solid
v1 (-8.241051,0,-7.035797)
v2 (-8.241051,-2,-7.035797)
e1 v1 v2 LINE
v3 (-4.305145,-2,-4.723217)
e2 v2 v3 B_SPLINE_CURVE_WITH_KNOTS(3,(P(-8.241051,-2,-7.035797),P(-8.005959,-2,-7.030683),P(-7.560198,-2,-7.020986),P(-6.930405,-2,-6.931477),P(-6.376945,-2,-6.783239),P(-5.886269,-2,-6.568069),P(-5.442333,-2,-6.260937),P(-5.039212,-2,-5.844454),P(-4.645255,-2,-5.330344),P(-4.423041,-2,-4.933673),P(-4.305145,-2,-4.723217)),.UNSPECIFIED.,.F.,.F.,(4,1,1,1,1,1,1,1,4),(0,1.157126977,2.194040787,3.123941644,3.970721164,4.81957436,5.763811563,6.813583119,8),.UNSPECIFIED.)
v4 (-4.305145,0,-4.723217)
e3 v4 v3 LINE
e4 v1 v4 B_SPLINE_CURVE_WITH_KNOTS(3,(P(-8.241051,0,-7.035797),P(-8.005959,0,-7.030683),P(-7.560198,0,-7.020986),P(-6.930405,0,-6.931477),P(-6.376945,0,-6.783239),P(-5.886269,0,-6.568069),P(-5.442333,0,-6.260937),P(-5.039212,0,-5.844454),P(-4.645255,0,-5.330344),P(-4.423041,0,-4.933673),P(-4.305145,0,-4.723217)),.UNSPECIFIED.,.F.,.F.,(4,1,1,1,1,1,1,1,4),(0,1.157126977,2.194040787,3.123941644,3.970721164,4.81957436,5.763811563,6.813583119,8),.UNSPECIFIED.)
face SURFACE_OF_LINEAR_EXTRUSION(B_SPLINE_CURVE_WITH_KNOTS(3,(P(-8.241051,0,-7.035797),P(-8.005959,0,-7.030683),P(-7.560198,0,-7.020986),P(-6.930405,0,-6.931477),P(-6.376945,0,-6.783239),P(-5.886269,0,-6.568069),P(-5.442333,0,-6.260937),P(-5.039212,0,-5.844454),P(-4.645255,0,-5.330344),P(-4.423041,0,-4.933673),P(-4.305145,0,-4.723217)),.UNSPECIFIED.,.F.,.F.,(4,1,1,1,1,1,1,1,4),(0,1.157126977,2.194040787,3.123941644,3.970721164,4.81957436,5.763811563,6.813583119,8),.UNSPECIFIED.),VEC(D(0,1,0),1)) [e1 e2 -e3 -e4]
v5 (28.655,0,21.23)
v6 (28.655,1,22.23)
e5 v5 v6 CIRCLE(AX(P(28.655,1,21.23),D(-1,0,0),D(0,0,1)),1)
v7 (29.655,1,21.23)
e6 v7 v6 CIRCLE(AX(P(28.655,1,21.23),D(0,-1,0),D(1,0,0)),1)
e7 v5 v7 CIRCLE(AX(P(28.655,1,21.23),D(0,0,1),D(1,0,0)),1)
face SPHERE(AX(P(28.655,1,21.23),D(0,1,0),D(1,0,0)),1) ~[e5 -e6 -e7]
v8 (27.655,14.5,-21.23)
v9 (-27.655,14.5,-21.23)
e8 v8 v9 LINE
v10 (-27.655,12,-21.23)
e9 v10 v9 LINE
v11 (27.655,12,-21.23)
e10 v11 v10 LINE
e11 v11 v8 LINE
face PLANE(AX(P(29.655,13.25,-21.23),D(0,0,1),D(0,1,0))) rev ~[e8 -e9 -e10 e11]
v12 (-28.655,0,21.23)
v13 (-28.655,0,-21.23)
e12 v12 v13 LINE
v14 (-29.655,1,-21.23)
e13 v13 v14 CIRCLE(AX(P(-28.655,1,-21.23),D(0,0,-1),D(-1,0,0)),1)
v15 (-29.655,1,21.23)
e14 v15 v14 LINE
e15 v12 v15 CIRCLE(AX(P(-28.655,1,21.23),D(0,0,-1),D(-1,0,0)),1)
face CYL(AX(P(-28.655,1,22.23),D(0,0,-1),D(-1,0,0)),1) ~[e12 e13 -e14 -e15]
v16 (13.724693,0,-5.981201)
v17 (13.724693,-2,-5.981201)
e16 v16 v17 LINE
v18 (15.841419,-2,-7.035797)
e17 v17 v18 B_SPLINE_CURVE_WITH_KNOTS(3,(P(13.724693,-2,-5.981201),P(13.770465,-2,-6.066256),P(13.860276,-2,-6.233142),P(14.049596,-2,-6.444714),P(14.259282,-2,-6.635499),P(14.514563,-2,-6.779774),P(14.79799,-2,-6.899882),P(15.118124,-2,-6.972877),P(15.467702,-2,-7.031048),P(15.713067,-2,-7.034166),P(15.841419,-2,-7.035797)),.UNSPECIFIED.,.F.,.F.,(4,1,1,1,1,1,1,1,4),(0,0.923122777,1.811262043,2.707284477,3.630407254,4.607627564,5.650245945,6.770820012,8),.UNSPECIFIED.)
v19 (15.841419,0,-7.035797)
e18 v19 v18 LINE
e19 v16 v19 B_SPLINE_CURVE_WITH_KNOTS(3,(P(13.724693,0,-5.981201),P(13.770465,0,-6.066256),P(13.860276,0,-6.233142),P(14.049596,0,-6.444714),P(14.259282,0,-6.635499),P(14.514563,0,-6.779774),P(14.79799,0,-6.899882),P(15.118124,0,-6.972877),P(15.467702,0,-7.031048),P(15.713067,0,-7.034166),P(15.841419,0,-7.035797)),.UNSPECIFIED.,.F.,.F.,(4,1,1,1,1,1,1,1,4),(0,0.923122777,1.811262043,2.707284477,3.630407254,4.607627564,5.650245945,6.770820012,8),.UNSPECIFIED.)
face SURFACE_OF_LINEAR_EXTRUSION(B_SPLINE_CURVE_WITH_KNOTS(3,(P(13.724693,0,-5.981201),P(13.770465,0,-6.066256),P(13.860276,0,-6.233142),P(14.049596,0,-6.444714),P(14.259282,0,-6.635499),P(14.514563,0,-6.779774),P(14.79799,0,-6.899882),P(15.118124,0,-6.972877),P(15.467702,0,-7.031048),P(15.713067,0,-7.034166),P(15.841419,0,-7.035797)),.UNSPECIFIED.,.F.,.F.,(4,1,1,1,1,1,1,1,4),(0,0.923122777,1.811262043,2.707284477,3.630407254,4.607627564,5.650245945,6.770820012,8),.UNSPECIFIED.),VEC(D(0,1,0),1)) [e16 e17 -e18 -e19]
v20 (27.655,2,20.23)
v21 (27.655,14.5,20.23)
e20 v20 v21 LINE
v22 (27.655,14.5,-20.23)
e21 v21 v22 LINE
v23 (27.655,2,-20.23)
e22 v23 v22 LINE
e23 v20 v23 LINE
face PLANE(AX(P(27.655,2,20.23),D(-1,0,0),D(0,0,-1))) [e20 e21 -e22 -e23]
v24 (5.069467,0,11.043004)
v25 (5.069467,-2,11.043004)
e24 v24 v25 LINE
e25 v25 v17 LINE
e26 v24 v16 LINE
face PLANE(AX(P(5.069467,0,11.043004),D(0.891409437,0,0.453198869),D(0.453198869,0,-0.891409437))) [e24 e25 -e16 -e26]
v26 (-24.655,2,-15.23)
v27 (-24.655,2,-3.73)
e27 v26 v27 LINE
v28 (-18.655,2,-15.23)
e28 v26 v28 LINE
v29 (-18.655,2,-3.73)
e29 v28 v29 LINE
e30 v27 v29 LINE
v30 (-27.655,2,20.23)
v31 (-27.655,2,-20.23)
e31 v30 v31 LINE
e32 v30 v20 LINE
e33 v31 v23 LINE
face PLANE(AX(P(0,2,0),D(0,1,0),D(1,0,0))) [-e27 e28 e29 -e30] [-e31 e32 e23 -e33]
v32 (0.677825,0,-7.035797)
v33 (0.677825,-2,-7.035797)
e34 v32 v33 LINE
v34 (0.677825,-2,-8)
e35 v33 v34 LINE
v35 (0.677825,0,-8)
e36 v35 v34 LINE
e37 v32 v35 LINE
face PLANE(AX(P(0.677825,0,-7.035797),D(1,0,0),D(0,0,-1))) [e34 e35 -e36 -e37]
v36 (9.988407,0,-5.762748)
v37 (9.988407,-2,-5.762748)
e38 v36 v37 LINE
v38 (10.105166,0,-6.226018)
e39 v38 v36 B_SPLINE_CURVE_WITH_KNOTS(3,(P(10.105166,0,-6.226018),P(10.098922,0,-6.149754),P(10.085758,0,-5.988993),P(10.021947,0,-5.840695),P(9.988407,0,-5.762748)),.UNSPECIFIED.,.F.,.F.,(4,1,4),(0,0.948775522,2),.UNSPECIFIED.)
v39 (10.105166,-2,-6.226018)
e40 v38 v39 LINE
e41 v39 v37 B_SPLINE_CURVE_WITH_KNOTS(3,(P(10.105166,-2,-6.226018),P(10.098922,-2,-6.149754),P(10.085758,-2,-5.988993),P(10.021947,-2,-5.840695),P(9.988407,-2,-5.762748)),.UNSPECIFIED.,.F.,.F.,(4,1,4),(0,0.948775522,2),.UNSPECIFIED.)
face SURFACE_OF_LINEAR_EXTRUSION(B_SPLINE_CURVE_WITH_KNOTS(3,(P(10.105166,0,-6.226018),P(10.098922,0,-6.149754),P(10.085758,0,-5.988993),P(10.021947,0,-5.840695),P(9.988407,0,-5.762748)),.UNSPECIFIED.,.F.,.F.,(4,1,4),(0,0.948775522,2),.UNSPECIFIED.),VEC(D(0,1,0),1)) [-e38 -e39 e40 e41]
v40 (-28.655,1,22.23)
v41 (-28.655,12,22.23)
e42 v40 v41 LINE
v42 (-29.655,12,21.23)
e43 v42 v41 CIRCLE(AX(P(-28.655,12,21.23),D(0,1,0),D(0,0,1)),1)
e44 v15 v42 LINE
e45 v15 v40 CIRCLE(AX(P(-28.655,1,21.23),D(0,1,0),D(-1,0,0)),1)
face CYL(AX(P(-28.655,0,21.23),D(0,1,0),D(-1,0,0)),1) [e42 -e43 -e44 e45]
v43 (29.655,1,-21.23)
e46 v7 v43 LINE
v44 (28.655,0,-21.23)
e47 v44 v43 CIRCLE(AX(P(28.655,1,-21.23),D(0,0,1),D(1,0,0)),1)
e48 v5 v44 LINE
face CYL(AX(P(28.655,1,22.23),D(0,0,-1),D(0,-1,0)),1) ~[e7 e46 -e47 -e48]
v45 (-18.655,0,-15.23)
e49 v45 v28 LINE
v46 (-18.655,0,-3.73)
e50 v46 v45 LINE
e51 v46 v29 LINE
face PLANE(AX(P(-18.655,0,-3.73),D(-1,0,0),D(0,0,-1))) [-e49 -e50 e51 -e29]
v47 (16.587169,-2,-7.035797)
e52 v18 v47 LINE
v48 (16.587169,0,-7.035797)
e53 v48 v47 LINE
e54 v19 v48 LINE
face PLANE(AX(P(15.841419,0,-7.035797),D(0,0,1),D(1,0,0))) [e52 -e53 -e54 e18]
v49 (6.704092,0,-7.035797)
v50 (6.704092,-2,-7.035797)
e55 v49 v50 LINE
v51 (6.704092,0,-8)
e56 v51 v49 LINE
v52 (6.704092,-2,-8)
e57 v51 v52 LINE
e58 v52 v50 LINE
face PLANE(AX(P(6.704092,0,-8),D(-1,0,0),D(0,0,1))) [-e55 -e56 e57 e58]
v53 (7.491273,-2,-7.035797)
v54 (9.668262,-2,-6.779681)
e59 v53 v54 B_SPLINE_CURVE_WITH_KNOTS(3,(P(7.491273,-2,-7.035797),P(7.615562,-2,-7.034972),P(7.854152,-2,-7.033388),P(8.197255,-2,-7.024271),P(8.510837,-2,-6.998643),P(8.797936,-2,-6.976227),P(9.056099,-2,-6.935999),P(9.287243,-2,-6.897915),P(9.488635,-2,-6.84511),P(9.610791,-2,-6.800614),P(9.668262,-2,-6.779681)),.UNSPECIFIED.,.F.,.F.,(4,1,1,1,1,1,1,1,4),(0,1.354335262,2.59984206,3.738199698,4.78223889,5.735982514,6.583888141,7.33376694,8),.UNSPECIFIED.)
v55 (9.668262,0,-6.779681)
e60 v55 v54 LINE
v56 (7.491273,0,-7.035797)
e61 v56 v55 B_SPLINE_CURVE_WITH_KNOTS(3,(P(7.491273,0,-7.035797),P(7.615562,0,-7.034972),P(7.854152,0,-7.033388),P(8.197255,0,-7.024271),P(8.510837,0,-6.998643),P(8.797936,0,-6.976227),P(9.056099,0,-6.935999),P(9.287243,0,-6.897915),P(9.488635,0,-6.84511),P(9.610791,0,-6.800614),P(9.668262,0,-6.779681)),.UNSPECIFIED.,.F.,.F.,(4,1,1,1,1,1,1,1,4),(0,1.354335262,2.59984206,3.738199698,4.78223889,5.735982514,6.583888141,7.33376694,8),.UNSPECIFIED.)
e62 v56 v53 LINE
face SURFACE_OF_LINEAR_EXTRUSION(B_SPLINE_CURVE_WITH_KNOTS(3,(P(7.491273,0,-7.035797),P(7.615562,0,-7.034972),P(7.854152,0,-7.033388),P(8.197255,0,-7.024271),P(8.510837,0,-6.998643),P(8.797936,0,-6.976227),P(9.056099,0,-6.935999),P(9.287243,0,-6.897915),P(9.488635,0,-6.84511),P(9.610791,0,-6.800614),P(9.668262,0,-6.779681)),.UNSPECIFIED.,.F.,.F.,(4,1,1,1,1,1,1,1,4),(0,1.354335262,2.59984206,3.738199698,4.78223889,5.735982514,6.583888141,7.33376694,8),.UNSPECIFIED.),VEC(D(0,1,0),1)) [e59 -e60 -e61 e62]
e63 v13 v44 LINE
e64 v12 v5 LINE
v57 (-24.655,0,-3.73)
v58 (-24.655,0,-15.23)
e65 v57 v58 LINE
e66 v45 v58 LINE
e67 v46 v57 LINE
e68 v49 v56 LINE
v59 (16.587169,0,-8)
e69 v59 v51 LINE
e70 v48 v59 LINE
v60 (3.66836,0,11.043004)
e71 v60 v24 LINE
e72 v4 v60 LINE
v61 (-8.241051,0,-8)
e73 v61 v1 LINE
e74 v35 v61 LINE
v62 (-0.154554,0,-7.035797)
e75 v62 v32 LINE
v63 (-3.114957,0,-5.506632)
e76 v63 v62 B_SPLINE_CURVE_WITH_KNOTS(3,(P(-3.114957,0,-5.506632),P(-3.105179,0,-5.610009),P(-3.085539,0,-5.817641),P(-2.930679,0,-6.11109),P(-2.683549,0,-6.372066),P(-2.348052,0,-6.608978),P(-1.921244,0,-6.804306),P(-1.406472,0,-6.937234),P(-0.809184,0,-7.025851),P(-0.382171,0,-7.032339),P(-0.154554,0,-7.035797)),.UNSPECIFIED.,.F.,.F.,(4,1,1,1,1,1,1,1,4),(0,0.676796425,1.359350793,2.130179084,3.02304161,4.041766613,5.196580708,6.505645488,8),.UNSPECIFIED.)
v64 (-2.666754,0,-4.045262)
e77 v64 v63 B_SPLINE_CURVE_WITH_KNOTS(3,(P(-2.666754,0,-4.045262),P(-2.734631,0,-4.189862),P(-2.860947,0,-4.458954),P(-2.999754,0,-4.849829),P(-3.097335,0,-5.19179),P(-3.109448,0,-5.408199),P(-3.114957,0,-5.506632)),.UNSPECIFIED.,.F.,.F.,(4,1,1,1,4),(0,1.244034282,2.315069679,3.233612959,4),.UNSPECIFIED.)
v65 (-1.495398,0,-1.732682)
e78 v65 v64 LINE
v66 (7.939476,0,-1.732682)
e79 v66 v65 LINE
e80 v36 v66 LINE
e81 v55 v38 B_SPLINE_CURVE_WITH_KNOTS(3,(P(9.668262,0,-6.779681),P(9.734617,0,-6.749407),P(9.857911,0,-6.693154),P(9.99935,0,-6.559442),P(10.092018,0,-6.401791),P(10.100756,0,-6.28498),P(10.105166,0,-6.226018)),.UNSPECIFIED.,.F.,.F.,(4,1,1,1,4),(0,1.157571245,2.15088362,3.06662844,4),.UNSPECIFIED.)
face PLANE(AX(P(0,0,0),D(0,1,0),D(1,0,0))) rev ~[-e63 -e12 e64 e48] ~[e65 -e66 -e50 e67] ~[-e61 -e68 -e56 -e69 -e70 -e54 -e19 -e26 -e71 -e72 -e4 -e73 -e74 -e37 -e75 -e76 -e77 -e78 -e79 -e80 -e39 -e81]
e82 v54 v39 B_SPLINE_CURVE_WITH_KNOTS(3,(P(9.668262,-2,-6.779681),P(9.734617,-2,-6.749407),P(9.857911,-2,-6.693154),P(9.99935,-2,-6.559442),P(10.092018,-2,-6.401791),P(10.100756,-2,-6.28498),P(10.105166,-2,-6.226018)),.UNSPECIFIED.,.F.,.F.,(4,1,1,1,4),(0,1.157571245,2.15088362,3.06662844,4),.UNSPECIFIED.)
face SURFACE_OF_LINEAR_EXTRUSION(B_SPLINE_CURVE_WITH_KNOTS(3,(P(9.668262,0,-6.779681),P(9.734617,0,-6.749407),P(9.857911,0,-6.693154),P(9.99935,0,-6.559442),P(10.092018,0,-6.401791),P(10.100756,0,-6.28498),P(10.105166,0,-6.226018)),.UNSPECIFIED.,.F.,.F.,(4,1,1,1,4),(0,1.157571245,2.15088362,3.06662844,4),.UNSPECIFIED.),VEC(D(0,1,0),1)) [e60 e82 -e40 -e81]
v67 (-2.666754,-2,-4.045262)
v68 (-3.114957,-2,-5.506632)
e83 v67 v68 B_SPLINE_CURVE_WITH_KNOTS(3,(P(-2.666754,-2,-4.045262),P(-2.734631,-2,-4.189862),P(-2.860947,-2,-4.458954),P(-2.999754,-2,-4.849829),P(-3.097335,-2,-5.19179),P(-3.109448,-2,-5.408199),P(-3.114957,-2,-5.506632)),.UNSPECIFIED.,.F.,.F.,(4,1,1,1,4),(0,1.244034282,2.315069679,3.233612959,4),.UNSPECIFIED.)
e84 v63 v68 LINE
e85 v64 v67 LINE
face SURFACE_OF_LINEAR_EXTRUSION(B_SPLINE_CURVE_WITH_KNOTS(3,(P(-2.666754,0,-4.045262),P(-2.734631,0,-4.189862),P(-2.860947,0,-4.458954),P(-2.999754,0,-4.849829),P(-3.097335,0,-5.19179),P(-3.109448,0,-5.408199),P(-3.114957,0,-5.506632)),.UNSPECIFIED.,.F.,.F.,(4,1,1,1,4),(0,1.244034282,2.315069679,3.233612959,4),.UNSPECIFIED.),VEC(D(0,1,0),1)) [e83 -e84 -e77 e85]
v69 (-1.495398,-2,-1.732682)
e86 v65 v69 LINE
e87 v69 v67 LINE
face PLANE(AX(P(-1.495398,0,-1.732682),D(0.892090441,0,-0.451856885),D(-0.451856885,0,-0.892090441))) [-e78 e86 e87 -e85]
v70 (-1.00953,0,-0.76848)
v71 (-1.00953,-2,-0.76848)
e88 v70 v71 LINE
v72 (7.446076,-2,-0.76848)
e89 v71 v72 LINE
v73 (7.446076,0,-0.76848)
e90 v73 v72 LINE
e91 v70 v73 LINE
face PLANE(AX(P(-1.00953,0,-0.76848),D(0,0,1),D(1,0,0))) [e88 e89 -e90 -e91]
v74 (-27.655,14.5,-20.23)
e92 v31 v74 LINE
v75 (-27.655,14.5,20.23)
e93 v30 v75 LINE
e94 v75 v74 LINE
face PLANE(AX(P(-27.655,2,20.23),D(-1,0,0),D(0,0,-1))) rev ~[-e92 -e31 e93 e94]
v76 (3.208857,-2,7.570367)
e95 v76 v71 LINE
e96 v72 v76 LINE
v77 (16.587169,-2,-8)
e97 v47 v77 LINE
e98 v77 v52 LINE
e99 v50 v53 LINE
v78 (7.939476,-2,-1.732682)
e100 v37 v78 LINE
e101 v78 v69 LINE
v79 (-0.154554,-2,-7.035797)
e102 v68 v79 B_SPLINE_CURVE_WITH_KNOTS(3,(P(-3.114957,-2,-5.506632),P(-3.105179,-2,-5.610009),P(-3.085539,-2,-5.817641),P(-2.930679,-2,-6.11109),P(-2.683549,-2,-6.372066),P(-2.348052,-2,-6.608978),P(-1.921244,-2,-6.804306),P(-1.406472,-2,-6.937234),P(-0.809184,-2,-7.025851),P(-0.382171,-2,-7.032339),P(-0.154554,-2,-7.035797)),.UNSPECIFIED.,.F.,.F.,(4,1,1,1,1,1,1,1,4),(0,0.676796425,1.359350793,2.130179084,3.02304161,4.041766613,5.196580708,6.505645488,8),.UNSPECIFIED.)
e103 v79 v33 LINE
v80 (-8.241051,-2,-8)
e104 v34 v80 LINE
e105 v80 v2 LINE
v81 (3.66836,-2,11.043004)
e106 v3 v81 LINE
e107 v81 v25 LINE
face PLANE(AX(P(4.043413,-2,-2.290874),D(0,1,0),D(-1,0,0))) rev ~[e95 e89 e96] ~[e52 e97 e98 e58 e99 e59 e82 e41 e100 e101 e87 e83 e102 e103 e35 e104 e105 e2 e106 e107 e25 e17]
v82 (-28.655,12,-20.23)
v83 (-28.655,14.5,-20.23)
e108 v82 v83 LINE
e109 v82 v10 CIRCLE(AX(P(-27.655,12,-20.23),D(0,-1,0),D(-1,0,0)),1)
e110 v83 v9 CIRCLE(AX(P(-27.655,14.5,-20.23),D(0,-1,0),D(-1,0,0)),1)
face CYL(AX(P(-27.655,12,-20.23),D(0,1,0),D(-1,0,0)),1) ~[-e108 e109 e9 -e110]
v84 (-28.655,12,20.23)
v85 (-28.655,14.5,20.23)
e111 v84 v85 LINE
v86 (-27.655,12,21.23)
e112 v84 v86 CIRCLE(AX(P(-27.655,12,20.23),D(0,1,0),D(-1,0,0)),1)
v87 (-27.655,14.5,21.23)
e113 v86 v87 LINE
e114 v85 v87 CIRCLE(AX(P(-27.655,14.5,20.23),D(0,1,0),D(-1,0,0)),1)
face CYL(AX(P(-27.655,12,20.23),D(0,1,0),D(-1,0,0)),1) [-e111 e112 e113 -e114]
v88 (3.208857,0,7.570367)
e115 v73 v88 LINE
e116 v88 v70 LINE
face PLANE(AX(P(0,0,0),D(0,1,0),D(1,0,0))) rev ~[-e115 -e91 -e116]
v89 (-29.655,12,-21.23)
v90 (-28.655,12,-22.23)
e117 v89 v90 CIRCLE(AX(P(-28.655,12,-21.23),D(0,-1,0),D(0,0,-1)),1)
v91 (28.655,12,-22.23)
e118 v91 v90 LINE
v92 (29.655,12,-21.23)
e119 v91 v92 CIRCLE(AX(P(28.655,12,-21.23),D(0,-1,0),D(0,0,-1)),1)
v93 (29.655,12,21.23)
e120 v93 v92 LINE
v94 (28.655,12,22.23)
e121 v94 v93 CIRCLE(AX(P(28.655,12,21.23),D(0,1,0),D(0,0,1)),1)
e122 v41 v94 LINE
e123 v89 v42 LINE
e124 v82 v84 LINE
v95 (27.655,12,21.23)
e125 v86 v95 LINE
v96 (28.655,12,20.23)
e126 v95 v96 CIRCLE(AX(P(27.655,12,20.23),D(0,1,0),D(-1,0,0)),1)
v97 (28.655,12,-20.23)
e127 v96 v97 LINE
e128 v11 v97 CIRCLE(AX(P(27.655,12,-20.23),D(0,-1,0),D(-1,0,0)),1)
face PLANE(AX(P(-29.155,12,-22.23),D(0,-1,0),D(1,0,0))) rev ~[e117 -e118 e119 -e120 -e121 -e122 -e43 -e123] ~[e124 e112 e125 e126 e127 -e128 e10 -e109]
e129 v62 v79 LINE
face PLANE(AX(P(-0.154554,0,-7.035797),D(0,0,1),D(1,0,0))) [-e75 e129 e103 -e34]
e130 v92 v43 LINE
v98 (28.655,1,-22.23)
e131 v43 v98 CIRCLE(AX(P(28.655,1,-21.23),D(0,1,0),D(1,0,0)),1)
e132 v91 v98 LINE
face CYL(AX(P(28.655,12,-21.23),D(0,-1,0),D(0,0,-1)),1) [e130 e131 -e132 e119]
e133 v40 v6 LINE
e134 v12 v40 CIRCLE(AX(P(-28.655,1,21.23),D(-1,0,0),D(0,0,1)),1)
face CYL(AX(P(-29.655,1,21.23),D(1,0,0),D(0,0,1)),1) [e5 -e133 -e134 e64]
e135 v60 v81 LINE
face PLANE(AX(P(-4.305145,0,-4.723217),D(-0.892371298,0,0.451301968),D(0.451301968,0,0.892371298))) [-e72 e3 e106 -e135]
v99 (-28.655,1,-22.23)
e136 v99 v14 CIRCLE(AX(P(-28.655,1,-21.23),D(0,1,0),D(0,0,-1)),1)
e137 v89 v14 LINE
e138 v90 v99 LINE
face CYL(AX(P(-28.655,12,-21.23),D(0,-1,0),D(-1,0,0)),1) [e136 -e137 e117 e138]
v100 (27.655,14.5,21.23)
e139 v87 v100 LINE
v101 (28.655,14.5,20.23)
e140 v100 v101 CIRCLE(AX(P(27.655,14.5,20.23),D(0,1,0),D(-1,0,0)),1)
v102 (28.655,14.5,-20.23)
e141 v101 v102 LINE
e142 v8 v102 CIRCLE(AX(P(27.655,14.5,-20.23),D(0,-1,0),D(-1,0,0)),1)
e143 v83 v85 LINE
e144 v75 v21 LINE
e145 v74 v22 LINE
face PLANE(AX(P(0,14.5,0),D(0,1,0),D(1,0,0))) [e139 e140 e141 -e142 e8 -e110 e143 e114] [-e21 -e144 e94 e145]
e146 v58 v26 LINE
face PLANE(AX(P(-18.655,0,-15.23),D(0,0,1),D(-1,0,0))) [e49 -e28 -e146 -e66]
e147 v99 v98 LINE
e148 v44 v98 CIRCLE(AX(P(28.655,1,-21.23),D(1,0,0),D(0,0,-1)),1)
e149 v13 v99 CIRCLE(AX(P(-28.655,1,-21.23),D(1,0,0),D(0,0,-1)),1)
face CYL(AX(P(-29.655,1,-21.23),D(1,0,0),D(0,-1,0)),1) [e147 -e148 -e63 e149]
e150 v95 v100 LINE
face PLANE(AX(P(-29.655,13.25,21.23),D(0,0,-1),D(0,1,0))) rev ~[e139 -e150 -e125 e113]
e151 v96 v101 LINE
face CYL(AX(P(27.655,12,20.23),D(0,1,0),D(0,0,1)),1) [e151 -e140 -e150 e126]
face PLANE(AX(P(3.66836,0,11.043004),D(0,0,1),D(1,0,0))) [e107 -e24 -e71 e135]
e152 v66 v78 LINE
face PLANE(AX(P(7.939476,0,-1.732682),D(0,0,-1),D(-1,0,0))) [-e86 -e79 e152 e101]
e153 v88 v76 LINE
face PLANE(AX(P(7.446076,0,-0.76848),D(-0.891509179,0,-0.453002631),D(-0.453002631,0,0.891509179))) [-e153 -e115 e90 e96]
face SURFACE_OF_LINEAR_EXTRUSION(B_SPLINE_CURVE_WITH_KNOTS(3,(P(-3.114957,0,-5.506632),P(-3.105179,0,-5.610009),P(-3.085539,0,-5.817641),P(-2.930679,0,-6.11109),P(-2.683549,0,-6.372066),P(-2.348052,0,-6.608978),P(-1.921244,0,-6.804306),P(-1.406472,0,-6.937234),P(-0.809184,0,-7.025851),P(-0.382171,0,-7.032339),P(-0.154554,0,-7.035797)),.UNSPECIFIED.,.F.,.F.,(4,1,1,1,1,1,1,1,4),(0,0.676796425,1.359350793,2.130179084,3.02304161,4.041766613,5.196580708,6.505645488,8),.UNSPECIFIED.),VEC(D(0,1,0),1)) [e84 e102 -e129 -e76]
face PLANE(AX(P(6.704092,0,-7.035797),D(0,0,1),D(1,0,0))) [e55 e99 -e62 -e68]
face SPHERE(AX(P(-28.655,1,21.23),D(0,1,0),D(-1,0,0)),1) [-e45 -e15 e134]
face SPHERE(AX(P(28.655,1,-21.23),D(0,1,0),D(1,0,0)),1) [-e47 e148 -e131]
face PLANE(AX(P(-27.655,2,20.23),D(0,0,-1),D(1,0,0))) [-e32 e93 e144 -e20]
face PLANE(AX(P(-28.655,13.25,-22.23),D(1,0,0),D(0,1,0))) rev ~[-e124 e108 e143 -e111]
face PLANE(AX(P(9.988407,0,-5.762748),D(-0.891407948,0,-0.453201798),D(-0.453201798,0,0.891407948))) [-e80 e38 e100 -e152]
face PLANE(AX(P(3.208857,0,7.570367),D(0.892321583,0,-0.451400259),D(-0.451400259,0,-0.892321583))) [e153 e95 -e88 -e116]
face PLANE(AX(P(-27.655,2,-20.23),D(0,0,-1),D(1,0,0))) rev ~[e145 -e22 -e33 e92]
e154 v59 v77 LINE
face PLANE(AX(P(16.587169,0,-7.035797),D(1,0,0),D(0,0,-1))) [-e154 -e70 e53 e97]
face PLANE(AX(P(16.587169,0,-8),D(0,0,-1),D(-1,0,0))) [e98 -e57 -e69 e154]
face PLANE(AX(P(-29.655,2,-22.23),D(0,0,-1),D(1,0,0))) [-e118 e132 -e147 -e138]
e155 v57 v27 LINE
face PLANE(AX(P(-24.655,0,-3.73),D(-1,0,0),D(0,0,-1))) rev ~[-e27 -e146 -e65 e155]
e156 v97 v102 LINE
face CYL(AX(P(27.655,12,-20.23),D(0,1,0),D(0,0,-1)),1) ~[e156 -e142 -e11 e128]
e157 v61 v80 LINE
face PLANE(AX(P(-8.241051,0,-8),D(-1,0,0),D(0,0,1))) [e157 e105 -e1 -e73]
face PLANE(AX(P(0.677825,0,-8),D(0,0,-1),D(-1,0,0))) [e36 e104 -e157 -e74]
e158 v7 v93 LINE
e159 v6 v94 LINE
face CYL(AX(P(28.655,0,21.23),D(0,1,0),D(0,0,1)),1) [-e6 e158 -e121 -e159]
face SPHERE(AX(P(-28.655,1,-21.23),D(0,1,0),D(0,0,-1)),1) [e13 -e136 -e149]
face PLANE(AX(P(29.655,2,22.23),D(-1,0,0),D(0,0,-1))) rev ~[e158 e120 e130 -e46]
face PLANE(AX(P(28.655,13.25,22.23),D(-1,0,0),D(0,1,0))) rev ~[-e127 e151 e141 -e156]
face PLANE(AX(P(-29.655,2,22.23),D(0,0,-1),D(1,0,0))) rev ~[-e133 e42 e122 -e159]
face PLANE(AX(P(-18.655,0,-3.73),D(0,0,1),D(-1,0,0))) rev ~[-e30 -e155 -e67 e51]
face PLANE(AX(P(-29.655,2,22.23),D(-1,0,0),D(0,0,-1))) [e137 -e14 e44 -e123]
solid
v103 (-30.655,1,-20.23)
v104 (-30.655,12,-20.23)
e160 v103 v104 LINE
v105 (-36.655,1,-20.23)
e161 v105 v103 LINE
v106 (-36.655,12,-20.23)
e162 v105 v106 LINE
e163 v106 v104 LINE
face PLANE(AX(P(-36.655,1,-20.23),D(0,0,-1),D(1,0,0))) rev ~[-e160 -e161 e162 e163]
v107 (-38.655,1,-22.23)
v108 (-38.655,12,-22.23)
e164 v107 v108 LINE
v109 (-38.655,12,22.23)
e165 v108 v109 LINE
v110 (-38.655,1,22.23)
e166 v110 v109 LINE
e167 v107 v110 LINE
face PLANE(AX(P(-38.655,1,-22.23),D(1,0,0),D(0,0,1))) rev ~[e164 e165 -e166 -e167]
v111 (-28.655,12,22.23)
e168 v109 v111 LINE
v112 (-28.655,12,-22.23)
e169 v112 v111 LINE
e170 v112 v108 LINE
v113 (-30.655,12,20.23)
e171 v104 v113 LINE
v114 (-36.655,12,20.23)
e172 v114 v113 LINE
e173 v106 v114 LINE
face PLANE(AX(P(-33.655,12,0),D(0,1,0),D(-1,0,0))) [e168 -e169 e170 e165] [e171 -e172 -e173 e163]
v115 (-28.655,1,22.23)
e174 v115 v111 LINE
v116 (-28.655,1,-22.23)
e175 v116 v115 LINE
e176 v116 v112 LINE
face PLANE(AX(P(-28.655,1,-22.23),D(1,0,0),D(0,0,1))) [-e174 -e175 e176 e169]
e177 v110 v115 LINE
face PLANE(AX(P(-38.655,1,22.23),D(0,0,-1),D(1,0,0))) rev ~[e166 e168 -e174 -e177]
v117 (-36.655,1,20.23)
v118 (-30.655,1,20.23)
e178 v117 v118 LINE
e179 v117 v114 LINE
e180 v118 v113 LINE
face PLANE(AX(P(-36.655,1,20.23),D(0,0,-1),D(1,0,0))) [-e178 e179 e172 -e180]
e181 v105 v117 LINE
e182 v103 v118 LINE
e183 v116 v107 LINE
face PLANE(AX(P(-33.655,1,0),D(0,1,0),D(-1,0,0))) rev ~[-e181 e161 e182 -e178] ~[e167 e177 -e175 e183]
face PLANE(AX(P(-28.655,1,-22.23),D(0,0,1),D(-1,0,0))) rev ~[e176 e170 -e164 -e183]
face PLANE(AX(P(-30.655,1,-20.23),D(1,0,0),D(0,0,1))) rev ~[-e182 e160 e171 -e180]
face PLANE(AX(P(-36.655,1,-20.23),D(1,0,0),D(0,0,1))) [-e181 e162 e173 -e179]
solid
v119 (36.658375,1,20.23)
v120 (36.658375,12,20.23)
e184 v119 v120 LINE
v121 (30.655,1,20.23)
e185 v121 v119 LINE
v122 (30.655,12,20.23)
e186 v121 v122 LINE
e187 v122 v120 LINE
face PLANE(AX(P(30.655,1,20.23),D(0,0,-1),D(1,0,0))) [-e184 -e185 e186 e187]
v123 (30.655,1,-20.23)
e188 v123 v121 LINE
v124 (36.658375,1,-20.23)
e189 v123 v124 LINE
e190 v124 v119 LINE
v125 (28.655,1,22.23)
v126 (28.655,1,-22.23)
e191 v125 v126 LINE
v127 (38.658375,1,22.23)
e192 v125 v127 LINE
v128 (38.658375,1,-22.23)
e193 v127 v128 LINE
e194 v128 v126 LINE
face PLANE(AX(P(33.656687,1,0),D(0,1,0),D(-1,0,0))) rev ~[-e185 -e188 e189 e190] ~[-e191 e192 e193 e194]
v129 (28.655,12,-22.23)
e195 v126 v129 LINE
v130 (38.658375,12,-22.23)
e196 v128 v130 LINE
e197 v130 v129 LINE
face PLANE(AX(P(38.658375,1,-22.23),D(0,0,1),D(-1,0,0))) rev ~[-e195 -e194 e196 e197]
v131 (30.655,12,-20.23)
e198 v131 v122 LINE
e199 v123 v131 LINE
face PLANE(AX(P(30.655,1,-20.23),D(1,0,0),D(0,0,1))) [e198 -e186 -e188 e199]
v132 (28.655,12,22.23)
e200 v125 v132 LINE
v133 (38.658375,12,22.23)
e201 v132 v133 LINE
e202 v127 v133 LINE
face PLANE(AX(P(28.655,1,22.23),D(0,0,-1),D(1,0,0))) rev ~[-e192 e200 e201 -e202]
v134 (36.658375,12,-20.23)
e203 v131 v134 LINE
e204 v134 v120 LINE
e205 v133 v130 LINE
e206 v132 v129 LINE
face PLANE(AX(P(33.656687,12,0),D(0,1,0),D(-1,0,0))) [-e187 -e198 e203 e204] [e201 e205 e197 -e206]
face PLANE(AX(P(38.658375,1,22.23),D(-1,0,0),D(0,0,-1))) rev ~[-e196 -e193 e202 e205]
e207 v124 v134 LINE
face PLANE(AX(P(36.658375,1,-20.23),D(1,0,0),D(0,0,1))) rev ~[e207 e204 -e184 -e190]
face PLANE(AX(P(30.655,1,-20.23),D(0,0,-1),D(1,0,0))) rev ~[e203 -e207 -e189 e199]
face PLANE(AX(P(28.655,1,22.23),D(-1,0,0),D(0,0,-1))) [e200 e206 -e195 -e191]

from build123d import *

# Parameters (mm, degrees)
SKETCH1_W              = 59.31
SKETCH1_H              = 44.46
BOSS_EXTRUDE1_DEPTH    = 2
SKETCH2_W              = 59.31
SKETCH2_H              = 44.46
SKETCH2_W_2            = 55.31
SKETCH2_H_2            = 40.46
BOSS_EXTRUDE2_DEPTH    = 12.5
SKETCH3_W              = 1
SKETCH3_H              = 2.5
FILLET1_R              = 1
SKETCH5_W              = 6
SKETCH5_H              = 11.5
CUT_EXTRUDE1_DEPTH     = 10
BOSS_EXTRUDE3_DEPTH    = 2
BOSS_EXTRUDE10_START   = -1
SKETCH7_W              = 6
SKETCH7_H              = 40.46
BOSS_EXTRUDE10_DEPTH   = 11
SKETCH7_W_2            = 6.003374691
BOSS_EXTRUDE10_2_DEPTH = 11


with BuildPart() as part:
    # Sketch1 → Boss-Extrude1 (new body)
    with BuildSketch(Plane(origin=(0, 0, 0), x_dir=(1, 0, 0), z_dir=(0, 1, 0))):
        Rectangle(SKETCH1_W, SKETCH1_H)
    extrude(amount=BOSS_EXTRUDE1_DEPTH)

    # Sketch2 → Boss-Extrude2 (add)
    with BuildSketch(Plane(origin=(0, 2, 0), x_dir=(1, 0, 0), z_dir=(0, 1, 0))):
        Rectangle(SKETCH2_W, SKETCH2_H)
        Rectangle(SKETCH2_W_2, SKETCH2_H_2, mode=Mode.SUBTRACT)
    extrude(amount=BOSS_EXTRUDE2_DEPTH)

    # Cut-Sweep1: sweep along a path in Sketch4
    with BuildLine(Plane(origin=(0, 14.5, 0), x_dir=(1, 0, 0), z_dir=(0, 1, 0))) as cut_sweep1_path:
        Line((-29.655, -22.23), (29.655, -22.23))
        Line((29.655, -22.23), (29.655, 22.23))
        Line((29.655, 22.23), (-29.655, 22.23))
        Line((-29.655, 22.23), (-29.655, -22.23))
    # Sketch3 → Cut-Sweep1 (sweep, cut)
    with BuildSketch(Plane(origin=(29.655, 0, 0), x_dir=(0, 0, -1), z_dir=(1, 0, 0))):
        with Locations((-21.73, 13.25)):
            Rectangle(SKETCH3_W, SKETCH3_H)
    sweep(path=cut_sweep1_path.line, transition=Transition.RIGHT, mode=Mode.SUBTRACT)

    # Fillet1
    fillet1_edges = [part.edges().sort_by_distance(p)[0] for p in [
        (29.655, 6, 22.23),
        (-29.655, 6, 22.23),
        (-29.655, 6, -22.23),
        (29.655, 6, -22.23),
        (-28.655, 13.25, -21.23),
        (28.655, 13.25, -21.23),
        (28.655, 13.25, 21.23),
        (-28.655, 13.25, 21.23),
        (29.655, 0, 0),
        (0, 0, -22.23),
        (-29.655, 0, 0),
        (0, 0, 22.23),
    ]]
    fillet(fillet1_edges, radius=FILLET1_R)

    # Sketch5 → Cut-Extrude1 (cut)
    with BuildSketch(Plane(origin=(0, 0, 0), x_dir=(-1, 0, 0), z_dir=(0, -1, 0))):
        with Locations((21.655, 9.48)):
            Rectangle(SKETCH5_W, SKETCH5_H)
    extrude(amount=-CUT_EXTRUDE1_DEPTH, mode=Mode.SUBTRACT)

    # Sketch6 → Boss-Extrude3 (add)
    with BuildSketch(Plane.XZ):
        with BuildLine():
            Line((3.668359532, 11.043003806), (5.069466615, 11.043003806))
            Line((5.069466615, 11.043003806), (13.724692633, -5.981200546))
            add(Edge.make_bspline(
                [(13.724692633, -5.981200546), (13.770465415, -6.066255609), (13.860276332, -6.233142412), (14.049596398, -6.44471403), (14.259282132, -6.635498751), (14.514562764, -6.779774023), (14.797989941, -6.899882103), (15.118123905, -6.972877212), (15.467702486, -7.031048399), (15.713066528, -7.034166281), (15.841418927, -7.035797276)],
                knots=[0, 0, 0, 0, 0.923122777, 1.811262043, 2.707284477, 3.630407254, 4.607627564, 5.650245945, 6.770820012, 8, 8, 8, 8], degree=3))
            Line((15.841418927, -7.035797276), (16.587169471, -7.035797276))
            Line((16.587169471, -7.035797276), (16.587169471, -8))
            Line((16.587169471, -8), (6.704091546, -8))
            Line((6.704091546, -8), (6.704091546, -7.035797276))
            Line((6.704091546, -7.035797276), (7.491272677, -7.035797276))
            add(Edge.make_bspline(
                [(7.491272677, -7.035797276), (7.615561715, -7.034972065), (7.854152468, -7.033387954), (8.197254943, -7.024270941), (8.510837169, -6.998643255), (8.797935797, -6.976226749), (9.056099226, -6.935998597), (9.287242582, -6.897915489), (9.488634661, -6.845109649), (9.610791127, -6.800614432), (9.66826164, -6.779680927)],
                knots=[0, 0, 0, 0, 1.354335262, 2.59984206, 3.738199698, 4.78223889, 5.735982514, 6.583888141, 7.33376694, 8, 8, 8, 8], degree=3))
            add(Edge.make_bspline(
                [(9.66826164, -6.779680927), (9.734616654, -6.749406693), (9.857910933, -6.693154125), (9.99935023, -6.559441952), (10.092017823, -6.401790611), (10.10075551, -6.2849798), (10.105166, -6.226017644)],
                knots=[0, 0, 0, 0, 1.157571245, 2.15088362, 3.06662844, 4, 4, 4, 4], degree=3))
            add(Edge.make_bspline(
                [(10.105166, -6.226017644), (10.098921578, -6.149754311), (10.08575846, -5.988992716), (10.021947105, -5.840695302), (9.988407076, -5.762748366)],
                knots=[0, 0, 0, 0, 0.948775522, 2, 2, 2, 2], degree=3))
            Line((9.988407076, -5.762748366), (7.939476287, -1.732682292))
            Line((7.939476287, -1.732682292), (-1.495398027, -1.732682292))
            Line((-1.495398027, -1.732682292), (-2.666753681, -4.045262263))
            add(Edge.make_bspline(
                [(-2.666753681, -4.045262263), (-2.73463111, -4.18986222), (-2.860946743, -4.458953658), (-2.99975414, -4.849828516), (-3.097335174, -5.191789881), (-3.109447861, -5.40819885), (-3.114957291, -5.506632017)],
                knots=[0, 0, 0, 0, 1.244034282, 2.315069679, 3.233612959, 4, 4, 4, 4], degree=3))
            add(Edge.make_bspline(
                [(-3.114957291, -5.506632017), (-3.105178856, -5.610008506), (-3.085538794, -5.817640973), (-2.930679332, -6.11109022), (-2.683549261, -6.372065908), (-2.348052402, -6.608977598), (-1.921244388, -6.804306269), (-1.406472367, -6.937233956), (-0.80918362, -7.025851211), (-0.382171294, -7.032338986), (-0.154553614, -7.035797276)],
                knots=[0, 0, 0, 0, 0.676796425, 1.359350793, 2.130179084, 3.02304161, 4.041766613, 5.196580708, 6.505645488, 8, 8, 8, 8], degree=3))
            Line((-0.154553614, -7.035797276), (0.677824519, -7.035797276))
            Line((0.677824519, -7.035797276), (0.677824519, -8))
            Line((0.677824519, -8), (-8.241050681, -8))
            Line((-8.241050681, -8), (-8.241050681, -7.035797276))
            add(Edge.make_bspline(
                [(-8.241050681, -7.035797276), (-8.00595871, -7.030682959), (-7.560198321, -7.020985648), (-6.930404722, -6.931476506), (-6.376944833, -6.783238723), (-5.886269273, -6.568068877), (-5.442332689, -6.26093688), (-5.039212162, -5.844454164), (-4.645254972, -5.330344026), (-4.423041234, -4.933672593), (-4.305145029, -4.723217304)],
                knots=[0, 0, 0, 0, 1.157126977, 2.194040787, 3.123941644, 3.970721164, 4.81957436, 5.763811563, 6.813583119, 8, 8, 8, 8], degree=3))
            Line((-4.305145029, -4.723217304), (3.668359532, 11.043003806))
        make_face()
        Polygon((3.208856671, 7.570367432), (-1.009530248, -0.768479567), (7.446075674, -0.768479567), align=None, mode=Mode.SUBTRACT)
    extrude(amount=BOSS_EXTRUDE3_DEPTH)


with BuildPart() as body_2:
    # Sketch7 → Boss-Extrude10 (new body)
    with BuildSketch(Plane.XZ.offset(BOSS_EXTRUDE10_START)):
        Polygon((-28.655, 20.23), (-28.655, -20.23), (-28.655, -22.23), (-38.655, -22.23), (-38.655, 22.23), (-28.655, 22.23), align=None)
        with Locations((-33.655, 0)):
            Rectangle(SKETCH7_W, SKETCH7_H, mode=Mode.SUBTRACT)
    extrude(amount=-BOSS_EXTRUDE10_DEPTH)


with BuildPart() as body_3:
    # Sketch7 → Boss-Extrude10 2 (new body)
    with BuildSketch(Plane.XZ.offset(BOSS_EXTRUDE10_START)):
        Polygon((28.655, -20.23), (28.655, 20.23), (28.655, 22.23), (38.658374691, 22.23), (38.658374691, -22.23), (28.655, -22.23), align=None)
        with Locations((33.656687346, 0)):
            Rectangle(SKETCH7_W_2, SKETCH7_H, mode=Mode.SUBTRACT)
    extrude(amount=-BOSS_EXTRUDE10_2_DEPTH)


solid = Compound([part.part, body_2.part, body_3.part])
